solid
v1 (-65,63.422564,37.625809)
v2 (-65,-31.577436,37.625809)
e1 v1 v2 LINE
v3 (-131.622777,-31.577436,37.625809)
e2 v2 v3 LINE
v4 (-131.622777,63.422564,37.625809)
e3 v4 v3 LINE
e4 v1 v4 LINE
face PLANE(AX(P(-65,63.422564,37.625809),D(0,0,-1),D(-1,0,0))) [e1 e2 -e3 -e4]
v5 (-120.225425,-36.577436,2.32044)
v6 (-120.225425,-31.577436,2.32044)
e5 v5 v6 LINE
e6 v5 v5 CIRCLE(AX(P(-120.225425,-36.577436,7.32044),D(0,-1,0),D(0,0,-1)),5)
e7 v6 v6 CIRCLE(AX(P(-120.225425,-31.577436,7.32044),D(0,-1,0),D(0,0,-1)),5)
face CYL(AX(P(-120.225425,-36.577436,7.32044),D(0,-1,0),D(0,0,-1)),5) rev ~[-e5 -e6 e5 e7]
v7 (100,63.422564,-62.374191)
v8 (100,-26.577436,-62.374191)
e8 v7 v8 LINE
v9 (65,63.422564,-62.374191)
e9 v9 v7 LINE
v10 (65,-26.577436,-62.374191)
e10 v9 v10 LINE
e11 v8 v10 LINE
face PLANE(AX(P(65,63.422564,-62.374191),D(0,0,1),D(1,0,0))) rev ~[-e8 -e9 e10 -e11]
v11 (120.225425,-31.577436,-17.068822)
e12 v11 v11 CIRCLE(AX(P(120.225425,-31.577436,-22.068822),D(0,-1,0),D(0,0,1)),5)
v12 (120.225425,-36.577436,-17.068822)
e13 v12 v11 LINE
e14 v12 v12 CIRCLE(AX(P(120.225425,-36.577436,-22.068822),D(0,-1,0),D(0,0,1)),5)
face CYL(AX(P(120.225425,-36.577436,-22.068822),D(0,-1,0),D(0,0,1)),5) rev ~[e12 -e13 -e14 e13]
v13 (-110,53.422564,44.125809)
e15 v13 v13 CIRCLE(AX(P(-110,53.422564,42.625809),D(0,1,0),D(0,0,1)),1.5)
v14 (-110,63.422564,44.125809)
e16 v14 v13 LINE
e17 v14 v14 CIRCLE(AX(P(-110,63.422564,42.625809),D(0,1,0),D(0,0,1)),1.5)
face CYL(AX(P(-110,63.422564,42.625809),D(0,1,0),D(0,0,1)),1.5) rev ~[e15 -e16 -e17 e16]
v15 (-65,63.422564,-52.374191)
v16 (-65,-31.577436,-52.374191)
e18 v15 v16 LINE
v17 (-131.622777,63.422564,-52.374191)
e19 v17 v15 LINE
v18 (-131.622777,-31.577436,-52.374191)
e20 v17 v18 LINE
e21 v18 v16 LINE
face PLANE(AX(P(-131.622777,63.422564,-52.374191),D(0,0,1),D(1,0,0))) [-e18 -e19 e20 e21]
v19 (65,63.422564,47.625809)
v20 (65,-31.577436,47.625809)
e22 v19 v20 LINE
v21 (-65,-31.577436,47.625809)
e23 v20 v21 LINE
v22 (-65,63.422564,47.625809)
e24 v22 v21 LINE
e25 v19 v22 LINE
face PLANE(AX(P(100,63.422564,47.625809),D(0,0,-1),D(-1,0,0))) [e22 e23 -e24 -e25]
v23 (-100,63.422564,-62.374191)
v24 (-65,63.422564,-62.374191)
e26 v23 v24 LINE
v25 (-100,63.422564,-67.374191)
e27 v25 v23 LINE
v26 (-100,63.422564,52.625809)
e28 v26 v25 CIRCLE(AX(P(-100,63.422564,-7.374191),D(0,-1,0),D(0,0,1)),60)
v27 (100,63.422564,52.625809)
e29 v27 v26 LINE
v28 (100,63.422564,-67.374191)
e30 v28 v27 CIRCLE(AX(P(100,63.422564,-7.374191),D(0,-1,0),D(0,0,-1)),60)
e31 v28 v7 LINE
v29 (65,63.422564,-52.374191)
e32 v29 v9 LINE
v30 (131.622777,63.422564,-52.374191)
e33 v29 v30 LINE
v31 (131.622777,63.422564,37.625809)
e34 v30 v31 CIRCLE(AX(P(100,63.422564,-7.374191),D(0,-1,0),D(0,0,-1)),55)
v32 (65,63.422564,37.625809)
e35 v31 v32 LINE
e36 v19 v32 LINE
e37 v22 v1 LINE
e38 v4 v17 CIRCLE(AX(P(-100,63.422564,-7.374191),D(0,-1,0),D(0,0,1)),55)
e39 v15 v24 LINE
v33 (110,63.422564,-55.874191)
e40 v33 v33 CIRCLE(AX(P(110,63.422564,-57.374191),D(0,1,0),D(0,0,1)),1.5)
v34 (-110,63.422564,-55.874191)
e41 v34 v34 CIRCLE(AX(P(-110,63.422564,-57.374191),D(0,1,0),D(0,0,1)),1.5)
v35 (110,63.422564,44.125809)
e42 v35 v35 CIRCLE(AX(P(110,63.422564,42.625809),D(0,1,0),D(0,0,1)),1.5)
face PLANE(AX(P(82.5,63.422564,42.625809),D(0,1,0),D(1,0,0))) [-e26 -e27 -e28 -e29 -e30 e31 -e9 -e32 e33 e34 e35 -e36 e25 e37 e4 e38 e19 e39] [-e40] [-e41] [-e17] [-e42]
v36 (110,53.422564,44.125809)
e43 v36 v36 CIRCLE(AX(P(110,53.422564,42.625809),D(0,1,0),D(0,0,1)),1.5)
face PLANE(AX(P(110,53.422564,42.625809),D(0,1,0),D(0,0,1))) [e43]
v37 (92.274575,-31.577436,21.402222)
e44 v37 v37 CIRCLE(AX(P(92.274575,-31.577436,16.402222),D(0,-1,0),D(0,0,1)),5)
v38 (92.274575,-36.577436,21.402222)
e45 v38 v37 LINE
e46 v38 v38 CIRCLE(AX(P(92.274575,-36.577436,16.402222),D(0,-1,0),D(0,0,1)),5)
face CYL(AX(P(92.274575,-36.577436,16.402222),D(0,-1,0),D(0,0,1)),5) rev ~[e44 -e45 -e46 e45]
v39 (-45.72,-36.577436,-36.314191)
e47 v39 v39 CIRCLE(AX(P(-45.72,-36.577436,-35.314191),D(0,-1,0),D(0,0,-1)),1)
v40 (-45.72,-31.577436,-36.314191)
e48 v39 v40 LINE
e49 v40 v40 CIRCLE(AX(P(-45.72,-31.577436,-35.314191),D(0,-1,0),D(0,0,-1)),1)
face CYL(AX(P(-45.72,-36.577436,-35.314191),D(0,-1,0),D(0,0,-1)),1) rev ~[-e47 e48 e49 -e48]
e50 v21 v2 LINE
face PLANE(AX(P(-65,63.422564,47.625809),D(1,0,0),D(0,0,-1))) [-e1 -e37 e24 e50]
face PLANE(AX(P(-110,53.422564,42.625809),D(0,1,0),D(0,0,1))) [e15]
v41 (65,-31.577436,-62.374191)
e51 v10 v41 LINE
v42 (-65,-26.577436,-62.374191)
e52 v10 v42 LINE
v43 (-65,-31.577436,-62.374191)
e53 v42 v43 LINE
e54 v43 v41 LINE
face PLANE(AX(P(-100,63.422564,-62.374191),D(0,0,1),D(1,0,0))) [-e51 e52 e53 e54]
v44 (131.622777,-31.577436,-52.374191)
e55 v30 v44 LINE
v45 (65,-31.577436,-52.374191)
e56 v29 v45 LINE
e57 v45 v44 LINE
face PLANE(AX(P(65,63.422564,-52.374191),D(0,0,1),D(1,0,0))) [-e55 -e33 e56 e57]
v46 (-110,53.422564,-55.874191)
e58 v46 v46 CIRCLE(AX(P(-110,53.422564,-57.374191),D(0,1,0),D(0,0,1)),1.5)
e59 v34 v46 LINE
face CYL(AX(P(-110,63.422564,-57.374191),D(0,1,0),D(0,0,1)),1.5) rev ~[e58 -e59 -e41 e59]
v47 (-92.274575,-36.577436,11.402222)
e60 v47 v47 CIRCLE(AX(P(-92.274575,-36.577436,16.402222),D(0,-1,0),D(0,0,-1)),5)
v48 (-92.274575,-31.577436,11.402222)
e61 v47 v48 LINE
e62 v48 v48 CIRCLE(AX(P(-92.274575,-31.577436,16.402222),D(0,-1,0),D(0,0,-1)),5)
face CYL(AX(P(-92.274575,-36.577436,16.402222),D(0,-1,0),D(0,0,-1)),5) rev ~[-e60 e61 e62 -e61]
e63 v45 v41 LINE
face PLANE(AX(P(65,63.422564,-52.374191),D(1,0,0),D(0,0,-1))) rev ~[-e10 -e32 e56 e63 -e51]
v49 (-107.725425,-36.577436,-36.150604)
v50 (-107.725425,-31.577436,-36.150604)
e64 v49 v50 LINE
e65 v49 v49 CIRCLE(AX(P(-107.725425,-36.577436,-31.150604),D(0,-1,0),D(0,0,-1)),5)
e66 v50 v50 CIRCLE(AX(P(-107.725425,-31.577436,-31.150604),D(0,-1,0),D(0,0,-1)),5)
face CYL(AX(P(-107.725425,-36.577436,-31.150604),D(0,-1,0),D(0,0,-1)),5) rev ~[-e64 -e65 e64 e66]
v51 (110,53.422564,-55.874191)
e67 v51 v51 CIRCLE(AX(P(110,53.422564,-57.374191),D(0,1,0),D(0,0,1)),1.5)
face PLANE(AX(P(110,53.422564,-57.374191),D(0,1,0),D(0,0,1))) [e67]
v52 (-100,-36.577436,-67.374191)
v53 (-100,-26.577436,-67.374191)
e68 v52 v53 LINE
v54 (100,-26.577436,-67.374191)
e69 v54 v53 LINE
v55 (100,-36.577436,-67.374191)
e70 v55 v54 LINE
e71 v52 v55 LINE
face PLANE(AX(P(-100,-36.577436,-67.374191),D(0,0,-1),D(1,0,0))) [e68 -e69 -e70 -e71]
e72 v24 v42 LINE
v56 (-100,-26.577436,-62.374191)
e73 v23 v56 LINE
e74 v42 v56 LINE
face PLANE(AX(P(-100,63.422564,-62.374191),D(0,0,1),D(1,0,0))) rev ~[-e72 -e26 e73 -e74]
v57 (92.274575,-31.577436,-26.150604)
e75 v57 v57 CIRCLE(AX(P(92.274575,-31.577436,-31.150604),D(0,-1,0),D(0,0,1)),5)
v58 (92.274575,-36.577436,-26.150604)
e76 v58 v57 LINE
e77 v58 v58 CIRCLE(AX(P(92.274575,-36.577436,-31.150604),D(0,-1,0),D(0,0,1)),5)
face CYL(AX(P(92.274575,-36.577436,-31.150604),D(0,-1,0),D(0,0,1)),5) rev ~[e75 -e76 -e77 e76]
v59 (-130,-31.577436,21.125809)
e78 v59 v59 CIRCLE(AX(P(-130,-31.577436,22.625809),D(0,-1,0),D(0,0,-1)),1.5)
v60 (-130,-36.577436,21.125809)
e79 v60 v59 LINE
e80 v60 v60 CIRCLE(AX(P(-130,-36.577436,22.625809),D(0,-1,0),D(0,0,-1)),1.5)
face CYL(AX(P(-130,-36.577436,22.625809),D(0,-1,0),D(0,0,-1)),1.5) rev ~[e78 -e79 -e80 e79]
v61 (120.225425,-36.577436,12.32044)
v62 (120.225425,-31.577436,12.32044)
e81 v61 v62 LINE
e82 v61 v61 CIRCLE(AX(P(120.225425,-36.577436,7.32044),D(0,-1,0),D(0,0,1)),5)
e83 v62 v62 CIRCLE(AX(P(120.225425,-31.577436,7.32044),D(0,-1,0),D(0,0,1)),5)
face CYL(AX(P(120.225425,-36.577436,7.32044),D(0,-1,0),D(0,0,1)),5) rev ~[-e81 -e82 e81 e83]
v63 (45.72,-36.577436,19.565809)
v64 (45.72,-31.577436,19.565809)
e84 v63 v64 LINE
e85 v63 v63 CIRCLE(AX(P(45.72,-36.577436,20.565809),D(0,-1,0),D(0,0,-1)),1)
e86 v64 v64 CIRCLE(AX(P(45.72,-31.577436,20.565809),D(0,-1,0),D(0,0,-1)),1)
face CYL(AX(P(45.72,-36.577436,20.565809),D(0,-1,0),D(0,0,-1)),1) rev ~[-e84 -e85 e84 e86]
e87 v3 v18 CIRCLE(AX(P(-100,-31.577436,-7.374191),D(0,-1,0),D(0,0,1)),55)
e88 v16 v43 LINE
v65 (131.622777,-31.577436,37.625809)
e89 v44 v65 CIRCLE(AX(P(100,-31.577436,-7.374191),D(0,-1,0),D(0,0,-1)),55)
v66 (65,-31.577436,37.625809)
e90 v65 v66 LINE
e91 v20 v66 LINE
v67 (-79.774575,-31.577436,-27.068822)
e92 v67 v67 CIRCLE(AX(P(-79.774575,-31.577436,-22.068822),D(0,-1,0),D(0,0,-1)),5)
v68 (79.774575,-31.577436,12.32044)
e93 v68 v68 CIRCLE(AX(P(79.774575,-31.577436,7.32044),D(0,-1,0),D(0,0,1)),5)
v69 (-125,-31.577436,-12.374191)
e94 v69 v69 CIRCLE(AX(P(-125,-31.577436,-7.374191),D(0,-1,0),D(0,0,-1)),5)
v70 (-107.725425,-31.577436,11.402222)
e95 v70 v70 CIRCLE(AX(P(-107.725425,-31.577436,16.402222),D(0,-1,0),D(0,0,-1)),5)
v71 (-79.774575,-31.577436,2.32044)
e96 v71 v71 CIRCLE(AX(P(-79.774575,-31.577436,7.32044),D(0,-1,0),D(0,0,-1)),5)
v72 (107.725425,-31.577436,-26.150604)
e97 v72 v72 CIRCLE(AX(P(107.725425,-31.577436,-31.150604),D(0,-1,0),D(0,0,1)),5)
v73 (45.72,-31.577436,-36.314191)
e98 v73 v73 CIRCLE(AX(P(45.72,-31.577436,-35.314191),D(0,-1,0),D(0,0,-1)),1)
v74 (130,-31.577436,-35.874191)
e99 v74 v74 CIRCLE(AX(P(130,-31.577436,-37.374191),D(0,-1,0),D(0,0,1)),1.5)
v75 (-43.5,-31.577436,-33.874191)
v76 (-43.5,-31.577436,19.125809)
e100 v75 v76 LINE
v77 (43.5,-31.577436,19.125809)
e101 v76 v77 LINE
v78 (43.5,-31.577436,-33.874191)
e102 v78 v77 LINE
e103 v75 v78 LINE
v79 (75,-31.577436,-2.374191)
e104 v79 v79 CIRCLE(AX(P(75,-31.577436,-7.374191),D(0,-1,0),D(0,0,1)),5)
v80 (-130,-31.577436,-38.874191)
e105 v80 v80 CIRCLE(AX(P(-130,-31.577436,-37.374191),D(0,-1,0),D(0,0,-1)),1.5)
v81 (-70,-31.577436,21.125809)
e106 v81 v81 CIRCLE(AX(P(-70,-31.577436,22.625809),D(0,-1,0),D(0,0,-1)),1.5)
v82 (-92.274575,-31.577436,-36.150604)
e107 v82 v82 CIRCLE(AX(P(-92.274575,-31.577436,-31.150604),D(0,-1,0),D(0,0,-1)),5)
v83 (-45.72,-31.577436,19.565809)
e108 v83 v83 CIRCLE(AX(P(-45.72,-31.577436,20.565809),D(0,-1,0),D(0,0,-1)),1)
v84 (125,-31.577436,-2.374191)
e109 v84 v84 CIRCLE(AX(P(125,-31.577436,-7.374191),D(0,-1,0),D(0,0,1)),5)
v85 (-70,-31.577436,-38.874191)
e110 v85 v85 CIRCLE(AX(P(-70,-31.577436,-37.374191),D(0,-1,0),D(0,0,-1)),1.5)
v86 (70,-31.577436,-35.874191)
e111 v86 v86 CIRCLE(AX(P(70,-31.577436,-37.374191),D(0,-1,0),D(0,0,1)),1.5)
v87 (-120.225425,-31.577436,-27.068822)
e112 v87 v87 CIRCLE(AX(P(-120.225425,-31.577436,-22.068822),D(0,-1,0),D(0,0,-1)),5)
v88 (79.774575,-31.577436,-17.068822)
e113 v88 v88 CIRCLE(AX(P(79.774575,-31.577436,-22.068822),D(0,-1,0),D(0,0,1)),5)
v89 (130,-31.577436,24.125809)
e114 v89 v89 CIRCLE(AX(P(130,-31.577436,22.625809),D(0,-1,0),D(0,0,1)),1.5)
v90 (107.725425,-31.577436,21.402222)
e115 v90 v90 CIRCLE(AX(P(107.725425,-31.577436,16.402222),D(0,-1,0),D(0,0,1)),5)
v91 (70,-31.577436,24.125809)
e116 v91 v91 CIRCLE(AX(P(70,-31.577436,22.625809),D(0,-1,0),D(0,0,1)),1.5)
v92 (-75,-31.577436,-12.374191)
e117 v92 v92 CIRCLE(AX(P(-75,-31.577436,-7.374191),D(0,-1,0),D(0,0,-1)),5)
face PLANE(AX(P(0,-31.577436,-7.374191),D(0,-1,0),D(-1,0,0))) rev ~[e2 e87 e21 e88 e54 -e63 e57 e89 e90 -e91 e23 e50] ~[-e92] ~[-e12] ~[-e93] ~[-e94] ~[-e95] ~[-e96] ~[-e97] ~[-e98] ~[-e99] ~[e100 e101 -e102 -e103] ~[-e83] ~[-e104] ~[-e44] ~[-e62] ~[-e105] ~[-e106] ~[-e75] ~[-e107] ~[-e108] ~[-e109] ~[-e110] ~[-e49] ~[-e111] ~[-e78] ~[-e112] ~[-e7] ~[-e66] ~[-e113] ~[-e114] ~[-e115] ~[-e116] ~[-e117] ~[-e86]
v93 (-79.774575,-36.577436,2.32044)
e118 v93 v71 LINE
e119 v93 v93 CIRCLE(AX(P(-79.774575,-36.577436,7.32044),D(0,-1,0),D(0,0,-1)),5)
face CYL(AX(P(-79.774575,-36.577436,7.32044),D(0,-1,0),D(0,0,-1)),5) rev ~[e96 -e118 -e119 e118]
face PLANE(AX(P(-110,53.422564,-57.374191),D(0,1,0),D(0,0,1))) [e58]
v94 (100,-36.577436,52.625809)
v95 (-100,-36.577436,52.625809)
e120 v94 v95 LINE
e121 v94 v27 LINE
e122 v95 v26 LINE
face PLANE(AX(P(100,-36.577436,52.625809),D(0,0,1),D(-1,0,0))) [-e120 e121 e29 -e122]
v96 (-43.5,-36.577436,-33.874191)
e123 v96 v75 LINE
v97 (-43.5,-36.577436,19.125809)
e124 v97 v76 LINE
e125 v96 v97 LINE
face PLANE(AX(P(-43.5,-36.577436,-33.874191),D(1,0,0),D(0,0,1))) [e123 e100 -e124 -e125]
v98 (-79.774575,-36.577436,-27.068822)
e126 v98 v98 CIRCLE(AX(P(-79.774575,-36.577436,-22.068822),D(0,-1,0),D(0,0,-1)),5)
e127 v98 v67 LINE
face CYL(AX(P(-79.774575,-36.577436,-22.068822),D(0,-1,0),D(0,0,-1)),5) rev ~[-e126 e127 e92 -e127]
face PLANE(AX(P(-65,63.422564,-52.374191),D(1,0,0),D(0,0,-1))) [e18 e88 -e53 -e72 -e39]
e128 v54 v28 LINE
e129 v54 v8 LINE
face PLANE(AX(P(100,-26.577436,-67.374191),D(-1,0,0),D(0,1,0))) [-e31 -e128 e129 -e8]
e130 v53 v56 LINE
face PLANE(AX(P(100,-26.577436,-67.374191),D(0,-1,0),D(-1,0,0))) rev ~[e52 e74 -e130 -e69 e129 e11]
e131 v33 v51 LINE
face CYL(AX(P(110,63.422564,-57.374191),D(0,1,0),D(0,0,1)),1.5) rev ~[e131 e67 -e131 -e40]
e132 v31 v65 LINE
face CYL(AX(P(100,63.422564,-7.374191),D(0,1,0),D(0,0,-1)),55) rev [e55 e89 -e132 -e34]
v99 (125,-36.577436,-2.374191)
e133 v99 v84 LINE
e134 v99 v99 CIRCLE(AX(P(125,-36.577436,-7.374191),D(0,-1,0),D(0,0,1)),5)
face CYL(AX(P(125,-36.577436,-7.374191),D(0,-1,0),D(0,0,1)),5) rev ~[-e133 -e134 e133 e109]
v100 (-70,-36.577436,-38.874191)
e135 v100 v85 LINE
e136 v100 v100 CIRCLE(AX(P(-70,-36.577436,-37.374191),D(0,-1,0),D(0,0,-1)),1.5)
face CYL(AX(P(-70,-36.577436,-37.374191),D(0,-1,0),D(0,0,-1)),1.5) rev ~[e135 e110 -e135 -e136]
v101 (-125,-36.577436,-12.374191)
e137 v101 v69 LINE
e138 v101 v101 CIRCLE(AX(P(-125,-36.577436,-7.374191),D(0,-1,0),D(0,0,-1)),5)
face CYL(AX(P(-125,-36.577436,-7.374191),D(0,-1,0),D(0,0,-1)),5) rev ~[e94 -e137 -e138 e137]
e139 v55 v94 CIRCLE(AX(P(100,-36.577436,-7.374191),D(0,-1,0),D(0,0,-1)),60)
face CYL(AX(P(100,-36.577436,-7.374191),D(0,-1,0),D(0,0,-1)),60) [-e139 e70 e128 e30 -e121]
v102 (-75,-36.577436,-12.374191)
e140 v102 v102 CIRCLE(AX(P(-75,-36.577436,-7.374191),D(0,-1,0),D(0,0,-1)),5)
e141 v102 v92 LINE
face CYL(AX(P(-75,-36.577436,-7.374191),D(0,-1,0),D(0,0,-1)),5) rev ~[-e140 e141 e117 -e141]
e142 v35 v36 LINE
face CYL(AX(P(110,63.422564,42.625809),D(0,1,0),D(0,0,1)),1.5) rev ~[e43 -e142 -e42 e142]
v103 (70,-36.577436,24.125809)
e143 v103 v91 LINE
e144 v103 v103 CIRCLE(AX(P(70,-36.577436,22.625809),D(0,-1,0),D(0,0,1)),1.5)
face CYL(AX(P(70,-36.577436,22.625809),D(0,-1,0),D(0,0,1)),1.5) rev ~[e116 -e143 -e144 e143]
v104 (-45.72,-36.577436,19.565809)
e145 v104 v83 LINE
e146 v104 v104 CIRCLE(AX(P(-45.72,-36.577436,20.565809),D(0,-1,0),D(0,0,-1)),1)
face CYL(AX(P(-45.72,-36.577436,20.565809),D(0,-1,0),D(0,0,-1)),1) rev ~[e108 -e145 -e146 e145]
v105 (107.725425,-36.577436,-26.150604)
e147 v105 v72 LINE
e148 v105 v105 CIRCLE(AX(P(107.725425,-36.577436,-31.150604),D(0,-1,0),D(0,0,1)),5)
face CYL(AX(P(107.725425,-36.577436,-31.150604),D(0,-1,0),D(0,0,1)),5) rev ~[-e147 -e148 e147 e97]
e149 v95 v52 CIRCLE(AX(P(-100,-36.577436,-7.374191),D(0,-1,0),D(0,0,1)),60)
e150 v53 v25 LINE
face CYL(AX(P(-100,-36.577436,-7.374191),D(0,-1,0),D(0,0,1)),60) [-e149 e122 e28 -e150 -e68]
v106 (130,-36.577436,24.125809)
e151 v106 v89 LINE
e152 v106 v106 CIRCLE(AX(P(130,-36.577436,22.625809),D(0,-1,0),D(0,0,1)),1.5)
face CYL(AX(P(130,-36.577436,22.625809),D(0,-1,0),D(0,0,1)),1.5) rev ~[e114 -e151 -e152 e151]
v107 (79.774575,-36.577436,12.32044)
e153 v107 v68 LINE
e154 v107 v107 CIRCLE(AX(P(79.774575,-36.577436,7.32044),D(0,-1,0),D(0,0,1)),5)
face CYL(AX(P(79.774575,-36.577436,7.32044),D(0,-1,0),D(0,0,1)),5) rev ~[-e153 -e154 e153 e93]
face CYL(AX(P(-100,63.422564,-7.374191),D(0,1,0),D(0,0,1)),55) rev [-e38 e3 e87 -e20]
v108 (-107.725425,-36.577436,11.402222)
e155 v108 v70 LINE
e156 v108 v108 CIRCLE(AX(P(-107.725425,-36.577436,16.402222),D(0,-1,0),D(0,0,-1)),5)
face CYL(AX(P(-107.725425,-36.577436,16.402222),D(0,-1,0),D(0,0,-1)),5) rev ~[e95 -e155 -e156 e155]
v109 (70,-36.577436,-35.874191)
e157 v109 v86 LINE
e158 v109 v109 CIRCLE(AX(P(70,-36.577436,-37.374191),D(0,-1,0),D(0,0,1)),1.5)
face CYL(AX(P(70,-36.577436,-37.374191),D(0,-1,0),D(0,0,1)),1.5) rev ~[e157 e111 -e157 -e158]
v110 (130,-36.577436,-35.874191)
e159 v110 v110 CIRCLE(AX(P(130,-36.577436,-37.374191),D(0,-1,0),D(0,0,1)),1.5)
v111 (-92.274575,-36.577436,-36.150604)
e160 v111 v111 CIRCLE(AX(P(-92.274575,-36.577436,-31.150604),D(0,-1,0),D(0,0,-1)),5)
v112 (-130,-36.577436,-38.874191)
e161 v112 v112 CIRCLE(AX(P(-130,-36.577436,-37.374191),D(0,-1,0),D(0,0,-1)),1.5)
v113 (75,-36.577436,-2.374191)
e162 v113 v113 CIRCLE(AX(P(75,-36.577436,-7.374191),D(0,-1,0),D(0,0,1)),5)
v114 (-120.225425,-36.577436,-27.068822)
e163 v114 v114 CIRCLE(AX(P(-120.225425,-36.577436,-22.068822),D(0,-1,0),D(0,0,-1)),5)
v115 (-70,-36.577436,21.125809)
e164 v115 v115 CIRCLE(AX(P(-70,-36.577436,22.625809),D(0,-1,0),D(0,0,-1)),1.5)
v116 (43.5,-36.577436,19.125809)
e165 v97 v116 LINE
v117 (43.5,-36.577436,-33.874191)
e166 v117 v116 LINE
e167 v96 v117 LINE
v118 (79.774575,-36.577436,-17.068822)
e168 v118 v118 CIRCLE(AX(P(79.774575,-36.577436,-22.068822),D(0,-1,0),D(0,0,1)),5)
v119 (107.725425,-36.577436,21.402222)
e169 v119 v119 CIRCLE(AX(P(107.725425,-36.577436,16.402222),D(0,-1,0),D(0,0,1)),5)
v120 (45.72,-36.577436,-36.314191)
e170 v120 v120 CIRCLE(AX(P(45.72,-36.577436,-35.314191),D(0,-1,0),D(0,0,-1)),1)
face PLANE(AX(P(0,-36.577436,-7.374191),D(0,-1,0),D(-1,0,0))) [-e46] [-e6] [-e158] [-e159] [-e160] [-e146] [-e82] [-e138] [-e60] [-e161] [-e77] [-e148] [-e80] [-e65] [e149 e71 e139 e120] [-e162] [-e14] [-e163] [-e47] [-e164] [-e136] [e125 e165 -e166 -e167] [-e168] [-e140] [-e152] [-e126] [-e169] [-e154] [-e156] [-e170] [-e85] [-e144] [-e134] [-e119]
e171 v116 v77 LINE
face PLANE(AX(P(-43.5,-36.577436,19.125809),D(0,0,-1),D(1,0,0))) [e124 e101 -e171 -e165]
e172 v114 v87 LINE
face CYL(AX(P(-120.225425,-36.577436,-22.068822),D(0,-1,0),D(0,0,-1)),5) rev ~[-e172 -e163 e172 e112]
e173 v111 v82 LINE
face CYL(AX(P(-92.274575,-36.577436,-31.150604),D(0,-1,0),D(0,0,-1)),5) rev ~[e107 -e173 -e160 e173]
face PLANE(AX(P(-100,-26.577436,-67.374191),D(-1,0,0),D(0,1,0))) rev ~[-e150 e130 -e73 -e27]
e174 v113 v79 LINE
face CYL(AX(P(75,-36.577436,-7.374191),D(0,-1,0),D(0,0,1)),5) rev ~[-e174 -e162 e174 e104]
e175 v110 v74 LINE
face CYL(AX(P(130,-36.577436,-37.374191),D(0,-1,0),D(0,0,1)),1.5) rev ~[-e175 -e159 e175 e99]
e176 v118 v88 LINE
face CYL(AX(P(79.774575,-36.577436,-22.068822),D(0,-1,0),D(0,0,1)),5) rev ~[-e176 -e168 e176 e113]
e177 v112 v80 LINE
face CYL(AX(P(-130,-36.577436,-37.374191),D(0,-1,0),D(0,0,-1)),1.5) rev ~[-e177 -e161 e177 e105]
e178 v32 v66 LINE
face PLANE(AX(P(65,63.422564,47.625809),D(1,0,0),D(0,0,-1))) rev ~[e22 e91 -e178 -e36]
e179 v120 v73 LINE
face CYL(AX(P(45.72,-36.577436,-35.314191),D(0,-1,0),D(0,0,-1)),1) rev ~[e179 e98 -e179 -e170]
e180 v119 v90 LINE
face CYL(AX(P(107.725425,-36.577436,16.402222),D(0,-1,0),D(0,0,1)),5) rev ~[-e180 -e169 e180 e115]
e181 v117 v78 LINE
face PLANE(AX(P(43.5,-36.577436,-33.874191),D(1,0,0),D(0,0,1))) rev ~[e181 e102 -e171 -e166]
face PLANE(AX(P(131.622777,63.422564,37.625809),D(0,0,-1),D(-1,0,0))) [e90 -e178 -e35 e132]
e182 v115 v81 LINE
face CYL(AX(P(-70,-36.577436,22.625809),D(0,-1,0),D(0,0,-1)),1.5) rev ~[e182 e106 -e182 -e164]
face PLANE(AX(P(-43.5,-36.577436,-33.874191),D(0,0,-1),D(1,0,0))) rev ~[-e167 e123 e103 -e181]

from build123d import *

# Parameters (mm, degrees)
BOSS_EXTRUDE1_DEPTH = 10
CUT_EXTRUDE1_DEPTH  = 9.5
SKETCH3_R           = 0.15
SKETCH3_R_2         = 0.5
CUT_EXTRUDE2_DEPTH  = 20.798989873
SKETCH4_R           = 0.1
SKETCH4_W           = 8.7
SKETCH4_H           = 5.3
CUT_EXTRUDE3_DEPTH  = 20.798989873
CUT_EXTRUDE5_REACH  = 24.361
SKETCH5_W           = 20
SKETCH5_H           = 9
BOSS_EXTRUDE5_START = 9.5
SKETCH6_W           = 3.5
SKETCH6_H           = 1
BOSS_EXTRUDE5_DEPTH = 9.5
SCALE2_SCALE        = 10
SKETCH9_R           = 1.5
CUT_EXTRUDE6_DEPTH  = 10


with BuildPart() as part:
    # Sketch1 → Boss-Extrude1 (new body)
    with BuildSketch(Plane(origin=(0, 0, 0), x_dir=(1, 0, 0), z_dir=(0, 1, 0))):
        with BuildLine():
            Line((-10, 6), (10, 6))
            ThreePointArc((10, 6), (16, 0), (10, -6))
            Line((10, -6), (-10, -6))
            ThreePointArc((-10, -6), (-16, 0), (-10, 6))
        make_face()
    extrude(amount=BOSS_EXTRUDE1_DEPTH)

    # Sketch2 → Cut-Extrude1 (cut)
    with BuildSketch(Plane(origin=(0, 10, 0), x_dir=(1, 0, 0), z_dir=(0, 1, 0))):
        with BuildLine():
            Line((-10, 5.5), (10, 5.5))
            ThreePointArc((10, 5.5), (15.5, 0), (10, -5.5))
            Line((10, -5.5), (-10, -5.5))
            ThreePointArc((-10, -5.5), (-15.5, 0), (-10, 5.5))
        make_face()
    extrude(amount=-CUT_EXTRUDE1_DEPTH, mode=Mode.SUBTRACT)

    # Sketch3 → Cut-Extrude2 (cut, through all)
    with BuildSketch(Plane.XZ):
        with Locations(Location((-13, 3, 0), (0, 0, 270))):
            Circle(SKETCH3_R)
        with Locations(Location((-7, 3, 0), (0, 0, 270))):
            Circle(SKETCH3_R)
        with Locations(Location((-13, -3, 0), (0, 0, 270))):
            Circle(SKETCH3_R)
        with Locations(Location((-7, -3, 0), (0, 0, 270))):
            Circle(SKETCH3_R)
        with Locations(Location((-12.5, 0, 0), (0, 0, 270))):
            Circle(SKETCH3_R_2)
        with Locations(Location((-12.022542486, 1.469463131, 0), (0, 0, 270))):
            Circle(SKETCH3_R_2)
        with Locations(Location((-10.772542486, 2.377641291, 0), (0, 0, 270))):
            Circle(SKETCH3_R_2)
        with Locations(Location((-9.227457514, 2.377641291, 0), (0, 0, 270))):
            Circle(SKETCH3_R_2)
        with Locations(Location((-7.977457514, 1.469463131, 0), (0, 0, 270))):
            Circle(SKETCH3_R_2)
        with Locations(Location((-7.5, 0, 0), (0, 0, 270))):
            Circle(SKETCH3_R_2)
        with Locations(Location((-7.977457514, -1.469463131, 0), (0, 0, 270))):
            Circle(SKETCH3_R_2)
        with Locations(Location((-9.227457514, -2.377641291, 0), (0, 0, 270))):
            Circle(SKETCH3_R_2)
        with Locations(Location((-10.772542486, -2.377641291, 0), (0, 0, 270))):
            Circle(SKETCH3_R_2)
        with Locations(Location((-12.022542486, -1.469463131, 0), (0, 0, 270))):
            Circle(SKETCH3_R_2)
        with Locations(Location((12.022542486, -1.469463131, 0), (0, 0, 90))):
            Circle(SKETCH3_R_2)
        with Locations(Location((10.772542486, -2.377641291, 0), (0, 0, 90))):
            Circle(SKETCH3_R_2)
        with Locations(Location((9.227457514, -2.377641291, 0), (0, 0, 90))):
            Circle(SKETCH3_R_2)
        with Locations(Location((7.977457514, -1.469463131, 0), (0, 0, 90))):
            Circle(SKETCH3_R_2)
        with Locations(Location((7.5, 0, 0), (0, 0, 90))):
            Circle(SKETCH3_R_2)
        with Locations(Location((7.977457514, 1.469463131, 0), (0, 0, 90))):
            Circle(SKETCH3_R_2)
        with Locations(Location((9.227457514, 2.377641291, 0), (0, 0, 90))):
            Circle(SKETCH3_R_2)
        with Locations(Location((10.772542486, 2.377641291, 0), (0, 0, 90))):
            Circle(SKETCH3_R_2)
        with Locations(Location((12.022542486, 1.469463131, 0), (0, 0, 90))):
            Circle(SKETCH3_R_2)
        with Locations(Location((12.5, 0, 0), (0, 0, 90))):
            Circle(SKETCH3_R_2)
        with Locations(Location((7, -3, 0), (0, 0, 90))):
            Circle(SKETCH3_R)
        with Locations(Location((13, -3, 0), (0, 0, 90))):
            Circle(SKETCH3_R)
        with Locations(Location((7, 3, 0), (0, 0, 90))):
            Circle(SKETCH3_R)
        with Locations(Location((13, 3, 0), (0, 0, 90))):
            Circle(SKETCH3_R)
    extrude(amount=-CUT_EXTRUDE2_DEPTH, mode=Mode.SUBTRACT)

    # Sketch4 → Cut-Extrude3 (cut, through all)
    with BuildSketch(Plane.XZ):
        with Locations(Location((-4.572, 2.794, 0), (0, 0, 270))):
            Circle(SKETCH4_R)
        with Locations(Location((4.572, 2.794, 0), (0, 0, 270))):
            Circle(SKETCH4_R)
        with Locations(Location((-4.572, -2.794, 0), (0, 0, 270))):
            Circle(SKETCH4_R)
        with Locations(Location((4.572, -2.794, 0), (0, 0, 270))):
            Circle(SKETCH4_R)
        Rectangle(SKETCH4_W, SKETCH4_H)
    extrude(amount=-CUT_EXTRUDE3_DEPTH, mode=Mode.SUBTRACT)

    # Cut-Extrude5: up to this face of the body (flat: up to its plane)
    cut_extrude5_end = Plane(part.part.faces().sort_by_distance((0, 5.25, -5.5))[0])
    # Sketch5 → Cut-Extrude5 (cut, up to the picked face)
    with BuildSketch(Plane(origin=(0, 0, -6), x_dir=(-1, 0, 0), z_dir=(0, 0, -1)), mode=Mode.PRIVATE) as cut_extrude5_sk1:
        with Locations((0, 5.5)):
            Rectangle(SKETCH5_W, SKETCH5_H)
    cut_extrude5_tool1 = split(extrude(cut_extrude5_sk1.sketch, amount=-CUT_EXTRUDE5_REACH, mode=Mode.PRIVATE), bisect_by=cut_extrude5_end, keep=Keep.BOTH, mode=Mode.PRIVATE)
    add(cut_extrude5_tool1.solids().sort_by(Axis((0, 5.5, -6), (0, 0, 1)))[0], mode=Mode.SUBTRACT)

    # Sketch6 → Boss-Extrude5 (add)
    with BuildSketch(Plane(origin=(0, 0.5, 0), x_dir=(1, 0, 0), z_dir=(0, 1, 0)).offset(BOSS_EXTRUDE5_START)):
        with Locations((8.25, -5)):
            Rectangle(SKETCH6_W, SKETCH6_H)
        with Locations((8.25, 5)):
            Rectangle(SKETCH6_W, SKETCH6_H)
        with BuildLine():
            ThreePointArc((13.16227766, 4.5), (11.658312395, 5.244044241), (10, 5.5))
            Line((10, 5.5), (10, 4.5))
            Line((10, 4.5), (13.16227766, 4.5))
        make_face()
        with BuildLine():
            ThreePointArc((10, -5.5), (11.658312395, -5.244044241), (13.16227766, -4.5))
            Line((13.16227766, -4.5), (10, -4.5))
            Line((10, -4.5), (10, -5.5))
        make_face()
        with Locations((-8.25, -5)):
            Rectangle(SKETCH6_W, SKETCH6_H)
        with Locations((-8.25, 5)):
            Rectangle(SKETCH6_W, SKETCH6_H)
        with BuildLine():
            Line((-10, 4.5), (-10, 5.5))
            ThreePointArc((-10, 5.5), (-11.658312395, 5.244044241), (-13.16227766, 4.5))
            Line((-13.16227766, 4.5), (-10, 4.5))
        make_face()
        with BuildLine():
            Line((-10, -4.5), (-13.16227766, -4.5))
            ThreePointArc((-13.16227766, -4.5), (-11.658312395, -5.244044241), (-10, -5.5))
            Line((-10, -5.5), (-10, -4.5))
        make_face()
    extrude(amount=-BOSS_EXTRUDE5_DEPTH)


with BuildPart() as part_1:
    # Scale2: scaled about (0, 4.064159542, 0.819354557)
    add(part.part.scale(SCALE2_SCALE).moved(Location((0, -36.577435878, -7.374191013))))

    # Sketch9 → Cut-Extrude6 (cut)
    with BuildSketch(Plane(origin=(0, 63.422564119, 0), x_dir=(1, 0, 0), z_dir=(0, 1, 0))):
        with Locations(Location((-110, 57.374191011, 0), (0, 0, 270))):
            Circle(SKETCH9_R)
        with Locations(Location((-110, -42.625808989, 0), (0, 0, 270))):
            Circle(SKETCH9_R)
        with Locations(Location((110, -42.625808989, 0), (0, 0, 270))):
            Circle(SKETCH9_R)
        with Locations(Location((110, 57.374191011, 0), (0, 0, 270))):
            Circle(SKETCH9_R)
    extrude(amount=-CUT_EXTRUDE6_DEPTH, mode=Mode.SUBTRACT)


solid = part_1.part
